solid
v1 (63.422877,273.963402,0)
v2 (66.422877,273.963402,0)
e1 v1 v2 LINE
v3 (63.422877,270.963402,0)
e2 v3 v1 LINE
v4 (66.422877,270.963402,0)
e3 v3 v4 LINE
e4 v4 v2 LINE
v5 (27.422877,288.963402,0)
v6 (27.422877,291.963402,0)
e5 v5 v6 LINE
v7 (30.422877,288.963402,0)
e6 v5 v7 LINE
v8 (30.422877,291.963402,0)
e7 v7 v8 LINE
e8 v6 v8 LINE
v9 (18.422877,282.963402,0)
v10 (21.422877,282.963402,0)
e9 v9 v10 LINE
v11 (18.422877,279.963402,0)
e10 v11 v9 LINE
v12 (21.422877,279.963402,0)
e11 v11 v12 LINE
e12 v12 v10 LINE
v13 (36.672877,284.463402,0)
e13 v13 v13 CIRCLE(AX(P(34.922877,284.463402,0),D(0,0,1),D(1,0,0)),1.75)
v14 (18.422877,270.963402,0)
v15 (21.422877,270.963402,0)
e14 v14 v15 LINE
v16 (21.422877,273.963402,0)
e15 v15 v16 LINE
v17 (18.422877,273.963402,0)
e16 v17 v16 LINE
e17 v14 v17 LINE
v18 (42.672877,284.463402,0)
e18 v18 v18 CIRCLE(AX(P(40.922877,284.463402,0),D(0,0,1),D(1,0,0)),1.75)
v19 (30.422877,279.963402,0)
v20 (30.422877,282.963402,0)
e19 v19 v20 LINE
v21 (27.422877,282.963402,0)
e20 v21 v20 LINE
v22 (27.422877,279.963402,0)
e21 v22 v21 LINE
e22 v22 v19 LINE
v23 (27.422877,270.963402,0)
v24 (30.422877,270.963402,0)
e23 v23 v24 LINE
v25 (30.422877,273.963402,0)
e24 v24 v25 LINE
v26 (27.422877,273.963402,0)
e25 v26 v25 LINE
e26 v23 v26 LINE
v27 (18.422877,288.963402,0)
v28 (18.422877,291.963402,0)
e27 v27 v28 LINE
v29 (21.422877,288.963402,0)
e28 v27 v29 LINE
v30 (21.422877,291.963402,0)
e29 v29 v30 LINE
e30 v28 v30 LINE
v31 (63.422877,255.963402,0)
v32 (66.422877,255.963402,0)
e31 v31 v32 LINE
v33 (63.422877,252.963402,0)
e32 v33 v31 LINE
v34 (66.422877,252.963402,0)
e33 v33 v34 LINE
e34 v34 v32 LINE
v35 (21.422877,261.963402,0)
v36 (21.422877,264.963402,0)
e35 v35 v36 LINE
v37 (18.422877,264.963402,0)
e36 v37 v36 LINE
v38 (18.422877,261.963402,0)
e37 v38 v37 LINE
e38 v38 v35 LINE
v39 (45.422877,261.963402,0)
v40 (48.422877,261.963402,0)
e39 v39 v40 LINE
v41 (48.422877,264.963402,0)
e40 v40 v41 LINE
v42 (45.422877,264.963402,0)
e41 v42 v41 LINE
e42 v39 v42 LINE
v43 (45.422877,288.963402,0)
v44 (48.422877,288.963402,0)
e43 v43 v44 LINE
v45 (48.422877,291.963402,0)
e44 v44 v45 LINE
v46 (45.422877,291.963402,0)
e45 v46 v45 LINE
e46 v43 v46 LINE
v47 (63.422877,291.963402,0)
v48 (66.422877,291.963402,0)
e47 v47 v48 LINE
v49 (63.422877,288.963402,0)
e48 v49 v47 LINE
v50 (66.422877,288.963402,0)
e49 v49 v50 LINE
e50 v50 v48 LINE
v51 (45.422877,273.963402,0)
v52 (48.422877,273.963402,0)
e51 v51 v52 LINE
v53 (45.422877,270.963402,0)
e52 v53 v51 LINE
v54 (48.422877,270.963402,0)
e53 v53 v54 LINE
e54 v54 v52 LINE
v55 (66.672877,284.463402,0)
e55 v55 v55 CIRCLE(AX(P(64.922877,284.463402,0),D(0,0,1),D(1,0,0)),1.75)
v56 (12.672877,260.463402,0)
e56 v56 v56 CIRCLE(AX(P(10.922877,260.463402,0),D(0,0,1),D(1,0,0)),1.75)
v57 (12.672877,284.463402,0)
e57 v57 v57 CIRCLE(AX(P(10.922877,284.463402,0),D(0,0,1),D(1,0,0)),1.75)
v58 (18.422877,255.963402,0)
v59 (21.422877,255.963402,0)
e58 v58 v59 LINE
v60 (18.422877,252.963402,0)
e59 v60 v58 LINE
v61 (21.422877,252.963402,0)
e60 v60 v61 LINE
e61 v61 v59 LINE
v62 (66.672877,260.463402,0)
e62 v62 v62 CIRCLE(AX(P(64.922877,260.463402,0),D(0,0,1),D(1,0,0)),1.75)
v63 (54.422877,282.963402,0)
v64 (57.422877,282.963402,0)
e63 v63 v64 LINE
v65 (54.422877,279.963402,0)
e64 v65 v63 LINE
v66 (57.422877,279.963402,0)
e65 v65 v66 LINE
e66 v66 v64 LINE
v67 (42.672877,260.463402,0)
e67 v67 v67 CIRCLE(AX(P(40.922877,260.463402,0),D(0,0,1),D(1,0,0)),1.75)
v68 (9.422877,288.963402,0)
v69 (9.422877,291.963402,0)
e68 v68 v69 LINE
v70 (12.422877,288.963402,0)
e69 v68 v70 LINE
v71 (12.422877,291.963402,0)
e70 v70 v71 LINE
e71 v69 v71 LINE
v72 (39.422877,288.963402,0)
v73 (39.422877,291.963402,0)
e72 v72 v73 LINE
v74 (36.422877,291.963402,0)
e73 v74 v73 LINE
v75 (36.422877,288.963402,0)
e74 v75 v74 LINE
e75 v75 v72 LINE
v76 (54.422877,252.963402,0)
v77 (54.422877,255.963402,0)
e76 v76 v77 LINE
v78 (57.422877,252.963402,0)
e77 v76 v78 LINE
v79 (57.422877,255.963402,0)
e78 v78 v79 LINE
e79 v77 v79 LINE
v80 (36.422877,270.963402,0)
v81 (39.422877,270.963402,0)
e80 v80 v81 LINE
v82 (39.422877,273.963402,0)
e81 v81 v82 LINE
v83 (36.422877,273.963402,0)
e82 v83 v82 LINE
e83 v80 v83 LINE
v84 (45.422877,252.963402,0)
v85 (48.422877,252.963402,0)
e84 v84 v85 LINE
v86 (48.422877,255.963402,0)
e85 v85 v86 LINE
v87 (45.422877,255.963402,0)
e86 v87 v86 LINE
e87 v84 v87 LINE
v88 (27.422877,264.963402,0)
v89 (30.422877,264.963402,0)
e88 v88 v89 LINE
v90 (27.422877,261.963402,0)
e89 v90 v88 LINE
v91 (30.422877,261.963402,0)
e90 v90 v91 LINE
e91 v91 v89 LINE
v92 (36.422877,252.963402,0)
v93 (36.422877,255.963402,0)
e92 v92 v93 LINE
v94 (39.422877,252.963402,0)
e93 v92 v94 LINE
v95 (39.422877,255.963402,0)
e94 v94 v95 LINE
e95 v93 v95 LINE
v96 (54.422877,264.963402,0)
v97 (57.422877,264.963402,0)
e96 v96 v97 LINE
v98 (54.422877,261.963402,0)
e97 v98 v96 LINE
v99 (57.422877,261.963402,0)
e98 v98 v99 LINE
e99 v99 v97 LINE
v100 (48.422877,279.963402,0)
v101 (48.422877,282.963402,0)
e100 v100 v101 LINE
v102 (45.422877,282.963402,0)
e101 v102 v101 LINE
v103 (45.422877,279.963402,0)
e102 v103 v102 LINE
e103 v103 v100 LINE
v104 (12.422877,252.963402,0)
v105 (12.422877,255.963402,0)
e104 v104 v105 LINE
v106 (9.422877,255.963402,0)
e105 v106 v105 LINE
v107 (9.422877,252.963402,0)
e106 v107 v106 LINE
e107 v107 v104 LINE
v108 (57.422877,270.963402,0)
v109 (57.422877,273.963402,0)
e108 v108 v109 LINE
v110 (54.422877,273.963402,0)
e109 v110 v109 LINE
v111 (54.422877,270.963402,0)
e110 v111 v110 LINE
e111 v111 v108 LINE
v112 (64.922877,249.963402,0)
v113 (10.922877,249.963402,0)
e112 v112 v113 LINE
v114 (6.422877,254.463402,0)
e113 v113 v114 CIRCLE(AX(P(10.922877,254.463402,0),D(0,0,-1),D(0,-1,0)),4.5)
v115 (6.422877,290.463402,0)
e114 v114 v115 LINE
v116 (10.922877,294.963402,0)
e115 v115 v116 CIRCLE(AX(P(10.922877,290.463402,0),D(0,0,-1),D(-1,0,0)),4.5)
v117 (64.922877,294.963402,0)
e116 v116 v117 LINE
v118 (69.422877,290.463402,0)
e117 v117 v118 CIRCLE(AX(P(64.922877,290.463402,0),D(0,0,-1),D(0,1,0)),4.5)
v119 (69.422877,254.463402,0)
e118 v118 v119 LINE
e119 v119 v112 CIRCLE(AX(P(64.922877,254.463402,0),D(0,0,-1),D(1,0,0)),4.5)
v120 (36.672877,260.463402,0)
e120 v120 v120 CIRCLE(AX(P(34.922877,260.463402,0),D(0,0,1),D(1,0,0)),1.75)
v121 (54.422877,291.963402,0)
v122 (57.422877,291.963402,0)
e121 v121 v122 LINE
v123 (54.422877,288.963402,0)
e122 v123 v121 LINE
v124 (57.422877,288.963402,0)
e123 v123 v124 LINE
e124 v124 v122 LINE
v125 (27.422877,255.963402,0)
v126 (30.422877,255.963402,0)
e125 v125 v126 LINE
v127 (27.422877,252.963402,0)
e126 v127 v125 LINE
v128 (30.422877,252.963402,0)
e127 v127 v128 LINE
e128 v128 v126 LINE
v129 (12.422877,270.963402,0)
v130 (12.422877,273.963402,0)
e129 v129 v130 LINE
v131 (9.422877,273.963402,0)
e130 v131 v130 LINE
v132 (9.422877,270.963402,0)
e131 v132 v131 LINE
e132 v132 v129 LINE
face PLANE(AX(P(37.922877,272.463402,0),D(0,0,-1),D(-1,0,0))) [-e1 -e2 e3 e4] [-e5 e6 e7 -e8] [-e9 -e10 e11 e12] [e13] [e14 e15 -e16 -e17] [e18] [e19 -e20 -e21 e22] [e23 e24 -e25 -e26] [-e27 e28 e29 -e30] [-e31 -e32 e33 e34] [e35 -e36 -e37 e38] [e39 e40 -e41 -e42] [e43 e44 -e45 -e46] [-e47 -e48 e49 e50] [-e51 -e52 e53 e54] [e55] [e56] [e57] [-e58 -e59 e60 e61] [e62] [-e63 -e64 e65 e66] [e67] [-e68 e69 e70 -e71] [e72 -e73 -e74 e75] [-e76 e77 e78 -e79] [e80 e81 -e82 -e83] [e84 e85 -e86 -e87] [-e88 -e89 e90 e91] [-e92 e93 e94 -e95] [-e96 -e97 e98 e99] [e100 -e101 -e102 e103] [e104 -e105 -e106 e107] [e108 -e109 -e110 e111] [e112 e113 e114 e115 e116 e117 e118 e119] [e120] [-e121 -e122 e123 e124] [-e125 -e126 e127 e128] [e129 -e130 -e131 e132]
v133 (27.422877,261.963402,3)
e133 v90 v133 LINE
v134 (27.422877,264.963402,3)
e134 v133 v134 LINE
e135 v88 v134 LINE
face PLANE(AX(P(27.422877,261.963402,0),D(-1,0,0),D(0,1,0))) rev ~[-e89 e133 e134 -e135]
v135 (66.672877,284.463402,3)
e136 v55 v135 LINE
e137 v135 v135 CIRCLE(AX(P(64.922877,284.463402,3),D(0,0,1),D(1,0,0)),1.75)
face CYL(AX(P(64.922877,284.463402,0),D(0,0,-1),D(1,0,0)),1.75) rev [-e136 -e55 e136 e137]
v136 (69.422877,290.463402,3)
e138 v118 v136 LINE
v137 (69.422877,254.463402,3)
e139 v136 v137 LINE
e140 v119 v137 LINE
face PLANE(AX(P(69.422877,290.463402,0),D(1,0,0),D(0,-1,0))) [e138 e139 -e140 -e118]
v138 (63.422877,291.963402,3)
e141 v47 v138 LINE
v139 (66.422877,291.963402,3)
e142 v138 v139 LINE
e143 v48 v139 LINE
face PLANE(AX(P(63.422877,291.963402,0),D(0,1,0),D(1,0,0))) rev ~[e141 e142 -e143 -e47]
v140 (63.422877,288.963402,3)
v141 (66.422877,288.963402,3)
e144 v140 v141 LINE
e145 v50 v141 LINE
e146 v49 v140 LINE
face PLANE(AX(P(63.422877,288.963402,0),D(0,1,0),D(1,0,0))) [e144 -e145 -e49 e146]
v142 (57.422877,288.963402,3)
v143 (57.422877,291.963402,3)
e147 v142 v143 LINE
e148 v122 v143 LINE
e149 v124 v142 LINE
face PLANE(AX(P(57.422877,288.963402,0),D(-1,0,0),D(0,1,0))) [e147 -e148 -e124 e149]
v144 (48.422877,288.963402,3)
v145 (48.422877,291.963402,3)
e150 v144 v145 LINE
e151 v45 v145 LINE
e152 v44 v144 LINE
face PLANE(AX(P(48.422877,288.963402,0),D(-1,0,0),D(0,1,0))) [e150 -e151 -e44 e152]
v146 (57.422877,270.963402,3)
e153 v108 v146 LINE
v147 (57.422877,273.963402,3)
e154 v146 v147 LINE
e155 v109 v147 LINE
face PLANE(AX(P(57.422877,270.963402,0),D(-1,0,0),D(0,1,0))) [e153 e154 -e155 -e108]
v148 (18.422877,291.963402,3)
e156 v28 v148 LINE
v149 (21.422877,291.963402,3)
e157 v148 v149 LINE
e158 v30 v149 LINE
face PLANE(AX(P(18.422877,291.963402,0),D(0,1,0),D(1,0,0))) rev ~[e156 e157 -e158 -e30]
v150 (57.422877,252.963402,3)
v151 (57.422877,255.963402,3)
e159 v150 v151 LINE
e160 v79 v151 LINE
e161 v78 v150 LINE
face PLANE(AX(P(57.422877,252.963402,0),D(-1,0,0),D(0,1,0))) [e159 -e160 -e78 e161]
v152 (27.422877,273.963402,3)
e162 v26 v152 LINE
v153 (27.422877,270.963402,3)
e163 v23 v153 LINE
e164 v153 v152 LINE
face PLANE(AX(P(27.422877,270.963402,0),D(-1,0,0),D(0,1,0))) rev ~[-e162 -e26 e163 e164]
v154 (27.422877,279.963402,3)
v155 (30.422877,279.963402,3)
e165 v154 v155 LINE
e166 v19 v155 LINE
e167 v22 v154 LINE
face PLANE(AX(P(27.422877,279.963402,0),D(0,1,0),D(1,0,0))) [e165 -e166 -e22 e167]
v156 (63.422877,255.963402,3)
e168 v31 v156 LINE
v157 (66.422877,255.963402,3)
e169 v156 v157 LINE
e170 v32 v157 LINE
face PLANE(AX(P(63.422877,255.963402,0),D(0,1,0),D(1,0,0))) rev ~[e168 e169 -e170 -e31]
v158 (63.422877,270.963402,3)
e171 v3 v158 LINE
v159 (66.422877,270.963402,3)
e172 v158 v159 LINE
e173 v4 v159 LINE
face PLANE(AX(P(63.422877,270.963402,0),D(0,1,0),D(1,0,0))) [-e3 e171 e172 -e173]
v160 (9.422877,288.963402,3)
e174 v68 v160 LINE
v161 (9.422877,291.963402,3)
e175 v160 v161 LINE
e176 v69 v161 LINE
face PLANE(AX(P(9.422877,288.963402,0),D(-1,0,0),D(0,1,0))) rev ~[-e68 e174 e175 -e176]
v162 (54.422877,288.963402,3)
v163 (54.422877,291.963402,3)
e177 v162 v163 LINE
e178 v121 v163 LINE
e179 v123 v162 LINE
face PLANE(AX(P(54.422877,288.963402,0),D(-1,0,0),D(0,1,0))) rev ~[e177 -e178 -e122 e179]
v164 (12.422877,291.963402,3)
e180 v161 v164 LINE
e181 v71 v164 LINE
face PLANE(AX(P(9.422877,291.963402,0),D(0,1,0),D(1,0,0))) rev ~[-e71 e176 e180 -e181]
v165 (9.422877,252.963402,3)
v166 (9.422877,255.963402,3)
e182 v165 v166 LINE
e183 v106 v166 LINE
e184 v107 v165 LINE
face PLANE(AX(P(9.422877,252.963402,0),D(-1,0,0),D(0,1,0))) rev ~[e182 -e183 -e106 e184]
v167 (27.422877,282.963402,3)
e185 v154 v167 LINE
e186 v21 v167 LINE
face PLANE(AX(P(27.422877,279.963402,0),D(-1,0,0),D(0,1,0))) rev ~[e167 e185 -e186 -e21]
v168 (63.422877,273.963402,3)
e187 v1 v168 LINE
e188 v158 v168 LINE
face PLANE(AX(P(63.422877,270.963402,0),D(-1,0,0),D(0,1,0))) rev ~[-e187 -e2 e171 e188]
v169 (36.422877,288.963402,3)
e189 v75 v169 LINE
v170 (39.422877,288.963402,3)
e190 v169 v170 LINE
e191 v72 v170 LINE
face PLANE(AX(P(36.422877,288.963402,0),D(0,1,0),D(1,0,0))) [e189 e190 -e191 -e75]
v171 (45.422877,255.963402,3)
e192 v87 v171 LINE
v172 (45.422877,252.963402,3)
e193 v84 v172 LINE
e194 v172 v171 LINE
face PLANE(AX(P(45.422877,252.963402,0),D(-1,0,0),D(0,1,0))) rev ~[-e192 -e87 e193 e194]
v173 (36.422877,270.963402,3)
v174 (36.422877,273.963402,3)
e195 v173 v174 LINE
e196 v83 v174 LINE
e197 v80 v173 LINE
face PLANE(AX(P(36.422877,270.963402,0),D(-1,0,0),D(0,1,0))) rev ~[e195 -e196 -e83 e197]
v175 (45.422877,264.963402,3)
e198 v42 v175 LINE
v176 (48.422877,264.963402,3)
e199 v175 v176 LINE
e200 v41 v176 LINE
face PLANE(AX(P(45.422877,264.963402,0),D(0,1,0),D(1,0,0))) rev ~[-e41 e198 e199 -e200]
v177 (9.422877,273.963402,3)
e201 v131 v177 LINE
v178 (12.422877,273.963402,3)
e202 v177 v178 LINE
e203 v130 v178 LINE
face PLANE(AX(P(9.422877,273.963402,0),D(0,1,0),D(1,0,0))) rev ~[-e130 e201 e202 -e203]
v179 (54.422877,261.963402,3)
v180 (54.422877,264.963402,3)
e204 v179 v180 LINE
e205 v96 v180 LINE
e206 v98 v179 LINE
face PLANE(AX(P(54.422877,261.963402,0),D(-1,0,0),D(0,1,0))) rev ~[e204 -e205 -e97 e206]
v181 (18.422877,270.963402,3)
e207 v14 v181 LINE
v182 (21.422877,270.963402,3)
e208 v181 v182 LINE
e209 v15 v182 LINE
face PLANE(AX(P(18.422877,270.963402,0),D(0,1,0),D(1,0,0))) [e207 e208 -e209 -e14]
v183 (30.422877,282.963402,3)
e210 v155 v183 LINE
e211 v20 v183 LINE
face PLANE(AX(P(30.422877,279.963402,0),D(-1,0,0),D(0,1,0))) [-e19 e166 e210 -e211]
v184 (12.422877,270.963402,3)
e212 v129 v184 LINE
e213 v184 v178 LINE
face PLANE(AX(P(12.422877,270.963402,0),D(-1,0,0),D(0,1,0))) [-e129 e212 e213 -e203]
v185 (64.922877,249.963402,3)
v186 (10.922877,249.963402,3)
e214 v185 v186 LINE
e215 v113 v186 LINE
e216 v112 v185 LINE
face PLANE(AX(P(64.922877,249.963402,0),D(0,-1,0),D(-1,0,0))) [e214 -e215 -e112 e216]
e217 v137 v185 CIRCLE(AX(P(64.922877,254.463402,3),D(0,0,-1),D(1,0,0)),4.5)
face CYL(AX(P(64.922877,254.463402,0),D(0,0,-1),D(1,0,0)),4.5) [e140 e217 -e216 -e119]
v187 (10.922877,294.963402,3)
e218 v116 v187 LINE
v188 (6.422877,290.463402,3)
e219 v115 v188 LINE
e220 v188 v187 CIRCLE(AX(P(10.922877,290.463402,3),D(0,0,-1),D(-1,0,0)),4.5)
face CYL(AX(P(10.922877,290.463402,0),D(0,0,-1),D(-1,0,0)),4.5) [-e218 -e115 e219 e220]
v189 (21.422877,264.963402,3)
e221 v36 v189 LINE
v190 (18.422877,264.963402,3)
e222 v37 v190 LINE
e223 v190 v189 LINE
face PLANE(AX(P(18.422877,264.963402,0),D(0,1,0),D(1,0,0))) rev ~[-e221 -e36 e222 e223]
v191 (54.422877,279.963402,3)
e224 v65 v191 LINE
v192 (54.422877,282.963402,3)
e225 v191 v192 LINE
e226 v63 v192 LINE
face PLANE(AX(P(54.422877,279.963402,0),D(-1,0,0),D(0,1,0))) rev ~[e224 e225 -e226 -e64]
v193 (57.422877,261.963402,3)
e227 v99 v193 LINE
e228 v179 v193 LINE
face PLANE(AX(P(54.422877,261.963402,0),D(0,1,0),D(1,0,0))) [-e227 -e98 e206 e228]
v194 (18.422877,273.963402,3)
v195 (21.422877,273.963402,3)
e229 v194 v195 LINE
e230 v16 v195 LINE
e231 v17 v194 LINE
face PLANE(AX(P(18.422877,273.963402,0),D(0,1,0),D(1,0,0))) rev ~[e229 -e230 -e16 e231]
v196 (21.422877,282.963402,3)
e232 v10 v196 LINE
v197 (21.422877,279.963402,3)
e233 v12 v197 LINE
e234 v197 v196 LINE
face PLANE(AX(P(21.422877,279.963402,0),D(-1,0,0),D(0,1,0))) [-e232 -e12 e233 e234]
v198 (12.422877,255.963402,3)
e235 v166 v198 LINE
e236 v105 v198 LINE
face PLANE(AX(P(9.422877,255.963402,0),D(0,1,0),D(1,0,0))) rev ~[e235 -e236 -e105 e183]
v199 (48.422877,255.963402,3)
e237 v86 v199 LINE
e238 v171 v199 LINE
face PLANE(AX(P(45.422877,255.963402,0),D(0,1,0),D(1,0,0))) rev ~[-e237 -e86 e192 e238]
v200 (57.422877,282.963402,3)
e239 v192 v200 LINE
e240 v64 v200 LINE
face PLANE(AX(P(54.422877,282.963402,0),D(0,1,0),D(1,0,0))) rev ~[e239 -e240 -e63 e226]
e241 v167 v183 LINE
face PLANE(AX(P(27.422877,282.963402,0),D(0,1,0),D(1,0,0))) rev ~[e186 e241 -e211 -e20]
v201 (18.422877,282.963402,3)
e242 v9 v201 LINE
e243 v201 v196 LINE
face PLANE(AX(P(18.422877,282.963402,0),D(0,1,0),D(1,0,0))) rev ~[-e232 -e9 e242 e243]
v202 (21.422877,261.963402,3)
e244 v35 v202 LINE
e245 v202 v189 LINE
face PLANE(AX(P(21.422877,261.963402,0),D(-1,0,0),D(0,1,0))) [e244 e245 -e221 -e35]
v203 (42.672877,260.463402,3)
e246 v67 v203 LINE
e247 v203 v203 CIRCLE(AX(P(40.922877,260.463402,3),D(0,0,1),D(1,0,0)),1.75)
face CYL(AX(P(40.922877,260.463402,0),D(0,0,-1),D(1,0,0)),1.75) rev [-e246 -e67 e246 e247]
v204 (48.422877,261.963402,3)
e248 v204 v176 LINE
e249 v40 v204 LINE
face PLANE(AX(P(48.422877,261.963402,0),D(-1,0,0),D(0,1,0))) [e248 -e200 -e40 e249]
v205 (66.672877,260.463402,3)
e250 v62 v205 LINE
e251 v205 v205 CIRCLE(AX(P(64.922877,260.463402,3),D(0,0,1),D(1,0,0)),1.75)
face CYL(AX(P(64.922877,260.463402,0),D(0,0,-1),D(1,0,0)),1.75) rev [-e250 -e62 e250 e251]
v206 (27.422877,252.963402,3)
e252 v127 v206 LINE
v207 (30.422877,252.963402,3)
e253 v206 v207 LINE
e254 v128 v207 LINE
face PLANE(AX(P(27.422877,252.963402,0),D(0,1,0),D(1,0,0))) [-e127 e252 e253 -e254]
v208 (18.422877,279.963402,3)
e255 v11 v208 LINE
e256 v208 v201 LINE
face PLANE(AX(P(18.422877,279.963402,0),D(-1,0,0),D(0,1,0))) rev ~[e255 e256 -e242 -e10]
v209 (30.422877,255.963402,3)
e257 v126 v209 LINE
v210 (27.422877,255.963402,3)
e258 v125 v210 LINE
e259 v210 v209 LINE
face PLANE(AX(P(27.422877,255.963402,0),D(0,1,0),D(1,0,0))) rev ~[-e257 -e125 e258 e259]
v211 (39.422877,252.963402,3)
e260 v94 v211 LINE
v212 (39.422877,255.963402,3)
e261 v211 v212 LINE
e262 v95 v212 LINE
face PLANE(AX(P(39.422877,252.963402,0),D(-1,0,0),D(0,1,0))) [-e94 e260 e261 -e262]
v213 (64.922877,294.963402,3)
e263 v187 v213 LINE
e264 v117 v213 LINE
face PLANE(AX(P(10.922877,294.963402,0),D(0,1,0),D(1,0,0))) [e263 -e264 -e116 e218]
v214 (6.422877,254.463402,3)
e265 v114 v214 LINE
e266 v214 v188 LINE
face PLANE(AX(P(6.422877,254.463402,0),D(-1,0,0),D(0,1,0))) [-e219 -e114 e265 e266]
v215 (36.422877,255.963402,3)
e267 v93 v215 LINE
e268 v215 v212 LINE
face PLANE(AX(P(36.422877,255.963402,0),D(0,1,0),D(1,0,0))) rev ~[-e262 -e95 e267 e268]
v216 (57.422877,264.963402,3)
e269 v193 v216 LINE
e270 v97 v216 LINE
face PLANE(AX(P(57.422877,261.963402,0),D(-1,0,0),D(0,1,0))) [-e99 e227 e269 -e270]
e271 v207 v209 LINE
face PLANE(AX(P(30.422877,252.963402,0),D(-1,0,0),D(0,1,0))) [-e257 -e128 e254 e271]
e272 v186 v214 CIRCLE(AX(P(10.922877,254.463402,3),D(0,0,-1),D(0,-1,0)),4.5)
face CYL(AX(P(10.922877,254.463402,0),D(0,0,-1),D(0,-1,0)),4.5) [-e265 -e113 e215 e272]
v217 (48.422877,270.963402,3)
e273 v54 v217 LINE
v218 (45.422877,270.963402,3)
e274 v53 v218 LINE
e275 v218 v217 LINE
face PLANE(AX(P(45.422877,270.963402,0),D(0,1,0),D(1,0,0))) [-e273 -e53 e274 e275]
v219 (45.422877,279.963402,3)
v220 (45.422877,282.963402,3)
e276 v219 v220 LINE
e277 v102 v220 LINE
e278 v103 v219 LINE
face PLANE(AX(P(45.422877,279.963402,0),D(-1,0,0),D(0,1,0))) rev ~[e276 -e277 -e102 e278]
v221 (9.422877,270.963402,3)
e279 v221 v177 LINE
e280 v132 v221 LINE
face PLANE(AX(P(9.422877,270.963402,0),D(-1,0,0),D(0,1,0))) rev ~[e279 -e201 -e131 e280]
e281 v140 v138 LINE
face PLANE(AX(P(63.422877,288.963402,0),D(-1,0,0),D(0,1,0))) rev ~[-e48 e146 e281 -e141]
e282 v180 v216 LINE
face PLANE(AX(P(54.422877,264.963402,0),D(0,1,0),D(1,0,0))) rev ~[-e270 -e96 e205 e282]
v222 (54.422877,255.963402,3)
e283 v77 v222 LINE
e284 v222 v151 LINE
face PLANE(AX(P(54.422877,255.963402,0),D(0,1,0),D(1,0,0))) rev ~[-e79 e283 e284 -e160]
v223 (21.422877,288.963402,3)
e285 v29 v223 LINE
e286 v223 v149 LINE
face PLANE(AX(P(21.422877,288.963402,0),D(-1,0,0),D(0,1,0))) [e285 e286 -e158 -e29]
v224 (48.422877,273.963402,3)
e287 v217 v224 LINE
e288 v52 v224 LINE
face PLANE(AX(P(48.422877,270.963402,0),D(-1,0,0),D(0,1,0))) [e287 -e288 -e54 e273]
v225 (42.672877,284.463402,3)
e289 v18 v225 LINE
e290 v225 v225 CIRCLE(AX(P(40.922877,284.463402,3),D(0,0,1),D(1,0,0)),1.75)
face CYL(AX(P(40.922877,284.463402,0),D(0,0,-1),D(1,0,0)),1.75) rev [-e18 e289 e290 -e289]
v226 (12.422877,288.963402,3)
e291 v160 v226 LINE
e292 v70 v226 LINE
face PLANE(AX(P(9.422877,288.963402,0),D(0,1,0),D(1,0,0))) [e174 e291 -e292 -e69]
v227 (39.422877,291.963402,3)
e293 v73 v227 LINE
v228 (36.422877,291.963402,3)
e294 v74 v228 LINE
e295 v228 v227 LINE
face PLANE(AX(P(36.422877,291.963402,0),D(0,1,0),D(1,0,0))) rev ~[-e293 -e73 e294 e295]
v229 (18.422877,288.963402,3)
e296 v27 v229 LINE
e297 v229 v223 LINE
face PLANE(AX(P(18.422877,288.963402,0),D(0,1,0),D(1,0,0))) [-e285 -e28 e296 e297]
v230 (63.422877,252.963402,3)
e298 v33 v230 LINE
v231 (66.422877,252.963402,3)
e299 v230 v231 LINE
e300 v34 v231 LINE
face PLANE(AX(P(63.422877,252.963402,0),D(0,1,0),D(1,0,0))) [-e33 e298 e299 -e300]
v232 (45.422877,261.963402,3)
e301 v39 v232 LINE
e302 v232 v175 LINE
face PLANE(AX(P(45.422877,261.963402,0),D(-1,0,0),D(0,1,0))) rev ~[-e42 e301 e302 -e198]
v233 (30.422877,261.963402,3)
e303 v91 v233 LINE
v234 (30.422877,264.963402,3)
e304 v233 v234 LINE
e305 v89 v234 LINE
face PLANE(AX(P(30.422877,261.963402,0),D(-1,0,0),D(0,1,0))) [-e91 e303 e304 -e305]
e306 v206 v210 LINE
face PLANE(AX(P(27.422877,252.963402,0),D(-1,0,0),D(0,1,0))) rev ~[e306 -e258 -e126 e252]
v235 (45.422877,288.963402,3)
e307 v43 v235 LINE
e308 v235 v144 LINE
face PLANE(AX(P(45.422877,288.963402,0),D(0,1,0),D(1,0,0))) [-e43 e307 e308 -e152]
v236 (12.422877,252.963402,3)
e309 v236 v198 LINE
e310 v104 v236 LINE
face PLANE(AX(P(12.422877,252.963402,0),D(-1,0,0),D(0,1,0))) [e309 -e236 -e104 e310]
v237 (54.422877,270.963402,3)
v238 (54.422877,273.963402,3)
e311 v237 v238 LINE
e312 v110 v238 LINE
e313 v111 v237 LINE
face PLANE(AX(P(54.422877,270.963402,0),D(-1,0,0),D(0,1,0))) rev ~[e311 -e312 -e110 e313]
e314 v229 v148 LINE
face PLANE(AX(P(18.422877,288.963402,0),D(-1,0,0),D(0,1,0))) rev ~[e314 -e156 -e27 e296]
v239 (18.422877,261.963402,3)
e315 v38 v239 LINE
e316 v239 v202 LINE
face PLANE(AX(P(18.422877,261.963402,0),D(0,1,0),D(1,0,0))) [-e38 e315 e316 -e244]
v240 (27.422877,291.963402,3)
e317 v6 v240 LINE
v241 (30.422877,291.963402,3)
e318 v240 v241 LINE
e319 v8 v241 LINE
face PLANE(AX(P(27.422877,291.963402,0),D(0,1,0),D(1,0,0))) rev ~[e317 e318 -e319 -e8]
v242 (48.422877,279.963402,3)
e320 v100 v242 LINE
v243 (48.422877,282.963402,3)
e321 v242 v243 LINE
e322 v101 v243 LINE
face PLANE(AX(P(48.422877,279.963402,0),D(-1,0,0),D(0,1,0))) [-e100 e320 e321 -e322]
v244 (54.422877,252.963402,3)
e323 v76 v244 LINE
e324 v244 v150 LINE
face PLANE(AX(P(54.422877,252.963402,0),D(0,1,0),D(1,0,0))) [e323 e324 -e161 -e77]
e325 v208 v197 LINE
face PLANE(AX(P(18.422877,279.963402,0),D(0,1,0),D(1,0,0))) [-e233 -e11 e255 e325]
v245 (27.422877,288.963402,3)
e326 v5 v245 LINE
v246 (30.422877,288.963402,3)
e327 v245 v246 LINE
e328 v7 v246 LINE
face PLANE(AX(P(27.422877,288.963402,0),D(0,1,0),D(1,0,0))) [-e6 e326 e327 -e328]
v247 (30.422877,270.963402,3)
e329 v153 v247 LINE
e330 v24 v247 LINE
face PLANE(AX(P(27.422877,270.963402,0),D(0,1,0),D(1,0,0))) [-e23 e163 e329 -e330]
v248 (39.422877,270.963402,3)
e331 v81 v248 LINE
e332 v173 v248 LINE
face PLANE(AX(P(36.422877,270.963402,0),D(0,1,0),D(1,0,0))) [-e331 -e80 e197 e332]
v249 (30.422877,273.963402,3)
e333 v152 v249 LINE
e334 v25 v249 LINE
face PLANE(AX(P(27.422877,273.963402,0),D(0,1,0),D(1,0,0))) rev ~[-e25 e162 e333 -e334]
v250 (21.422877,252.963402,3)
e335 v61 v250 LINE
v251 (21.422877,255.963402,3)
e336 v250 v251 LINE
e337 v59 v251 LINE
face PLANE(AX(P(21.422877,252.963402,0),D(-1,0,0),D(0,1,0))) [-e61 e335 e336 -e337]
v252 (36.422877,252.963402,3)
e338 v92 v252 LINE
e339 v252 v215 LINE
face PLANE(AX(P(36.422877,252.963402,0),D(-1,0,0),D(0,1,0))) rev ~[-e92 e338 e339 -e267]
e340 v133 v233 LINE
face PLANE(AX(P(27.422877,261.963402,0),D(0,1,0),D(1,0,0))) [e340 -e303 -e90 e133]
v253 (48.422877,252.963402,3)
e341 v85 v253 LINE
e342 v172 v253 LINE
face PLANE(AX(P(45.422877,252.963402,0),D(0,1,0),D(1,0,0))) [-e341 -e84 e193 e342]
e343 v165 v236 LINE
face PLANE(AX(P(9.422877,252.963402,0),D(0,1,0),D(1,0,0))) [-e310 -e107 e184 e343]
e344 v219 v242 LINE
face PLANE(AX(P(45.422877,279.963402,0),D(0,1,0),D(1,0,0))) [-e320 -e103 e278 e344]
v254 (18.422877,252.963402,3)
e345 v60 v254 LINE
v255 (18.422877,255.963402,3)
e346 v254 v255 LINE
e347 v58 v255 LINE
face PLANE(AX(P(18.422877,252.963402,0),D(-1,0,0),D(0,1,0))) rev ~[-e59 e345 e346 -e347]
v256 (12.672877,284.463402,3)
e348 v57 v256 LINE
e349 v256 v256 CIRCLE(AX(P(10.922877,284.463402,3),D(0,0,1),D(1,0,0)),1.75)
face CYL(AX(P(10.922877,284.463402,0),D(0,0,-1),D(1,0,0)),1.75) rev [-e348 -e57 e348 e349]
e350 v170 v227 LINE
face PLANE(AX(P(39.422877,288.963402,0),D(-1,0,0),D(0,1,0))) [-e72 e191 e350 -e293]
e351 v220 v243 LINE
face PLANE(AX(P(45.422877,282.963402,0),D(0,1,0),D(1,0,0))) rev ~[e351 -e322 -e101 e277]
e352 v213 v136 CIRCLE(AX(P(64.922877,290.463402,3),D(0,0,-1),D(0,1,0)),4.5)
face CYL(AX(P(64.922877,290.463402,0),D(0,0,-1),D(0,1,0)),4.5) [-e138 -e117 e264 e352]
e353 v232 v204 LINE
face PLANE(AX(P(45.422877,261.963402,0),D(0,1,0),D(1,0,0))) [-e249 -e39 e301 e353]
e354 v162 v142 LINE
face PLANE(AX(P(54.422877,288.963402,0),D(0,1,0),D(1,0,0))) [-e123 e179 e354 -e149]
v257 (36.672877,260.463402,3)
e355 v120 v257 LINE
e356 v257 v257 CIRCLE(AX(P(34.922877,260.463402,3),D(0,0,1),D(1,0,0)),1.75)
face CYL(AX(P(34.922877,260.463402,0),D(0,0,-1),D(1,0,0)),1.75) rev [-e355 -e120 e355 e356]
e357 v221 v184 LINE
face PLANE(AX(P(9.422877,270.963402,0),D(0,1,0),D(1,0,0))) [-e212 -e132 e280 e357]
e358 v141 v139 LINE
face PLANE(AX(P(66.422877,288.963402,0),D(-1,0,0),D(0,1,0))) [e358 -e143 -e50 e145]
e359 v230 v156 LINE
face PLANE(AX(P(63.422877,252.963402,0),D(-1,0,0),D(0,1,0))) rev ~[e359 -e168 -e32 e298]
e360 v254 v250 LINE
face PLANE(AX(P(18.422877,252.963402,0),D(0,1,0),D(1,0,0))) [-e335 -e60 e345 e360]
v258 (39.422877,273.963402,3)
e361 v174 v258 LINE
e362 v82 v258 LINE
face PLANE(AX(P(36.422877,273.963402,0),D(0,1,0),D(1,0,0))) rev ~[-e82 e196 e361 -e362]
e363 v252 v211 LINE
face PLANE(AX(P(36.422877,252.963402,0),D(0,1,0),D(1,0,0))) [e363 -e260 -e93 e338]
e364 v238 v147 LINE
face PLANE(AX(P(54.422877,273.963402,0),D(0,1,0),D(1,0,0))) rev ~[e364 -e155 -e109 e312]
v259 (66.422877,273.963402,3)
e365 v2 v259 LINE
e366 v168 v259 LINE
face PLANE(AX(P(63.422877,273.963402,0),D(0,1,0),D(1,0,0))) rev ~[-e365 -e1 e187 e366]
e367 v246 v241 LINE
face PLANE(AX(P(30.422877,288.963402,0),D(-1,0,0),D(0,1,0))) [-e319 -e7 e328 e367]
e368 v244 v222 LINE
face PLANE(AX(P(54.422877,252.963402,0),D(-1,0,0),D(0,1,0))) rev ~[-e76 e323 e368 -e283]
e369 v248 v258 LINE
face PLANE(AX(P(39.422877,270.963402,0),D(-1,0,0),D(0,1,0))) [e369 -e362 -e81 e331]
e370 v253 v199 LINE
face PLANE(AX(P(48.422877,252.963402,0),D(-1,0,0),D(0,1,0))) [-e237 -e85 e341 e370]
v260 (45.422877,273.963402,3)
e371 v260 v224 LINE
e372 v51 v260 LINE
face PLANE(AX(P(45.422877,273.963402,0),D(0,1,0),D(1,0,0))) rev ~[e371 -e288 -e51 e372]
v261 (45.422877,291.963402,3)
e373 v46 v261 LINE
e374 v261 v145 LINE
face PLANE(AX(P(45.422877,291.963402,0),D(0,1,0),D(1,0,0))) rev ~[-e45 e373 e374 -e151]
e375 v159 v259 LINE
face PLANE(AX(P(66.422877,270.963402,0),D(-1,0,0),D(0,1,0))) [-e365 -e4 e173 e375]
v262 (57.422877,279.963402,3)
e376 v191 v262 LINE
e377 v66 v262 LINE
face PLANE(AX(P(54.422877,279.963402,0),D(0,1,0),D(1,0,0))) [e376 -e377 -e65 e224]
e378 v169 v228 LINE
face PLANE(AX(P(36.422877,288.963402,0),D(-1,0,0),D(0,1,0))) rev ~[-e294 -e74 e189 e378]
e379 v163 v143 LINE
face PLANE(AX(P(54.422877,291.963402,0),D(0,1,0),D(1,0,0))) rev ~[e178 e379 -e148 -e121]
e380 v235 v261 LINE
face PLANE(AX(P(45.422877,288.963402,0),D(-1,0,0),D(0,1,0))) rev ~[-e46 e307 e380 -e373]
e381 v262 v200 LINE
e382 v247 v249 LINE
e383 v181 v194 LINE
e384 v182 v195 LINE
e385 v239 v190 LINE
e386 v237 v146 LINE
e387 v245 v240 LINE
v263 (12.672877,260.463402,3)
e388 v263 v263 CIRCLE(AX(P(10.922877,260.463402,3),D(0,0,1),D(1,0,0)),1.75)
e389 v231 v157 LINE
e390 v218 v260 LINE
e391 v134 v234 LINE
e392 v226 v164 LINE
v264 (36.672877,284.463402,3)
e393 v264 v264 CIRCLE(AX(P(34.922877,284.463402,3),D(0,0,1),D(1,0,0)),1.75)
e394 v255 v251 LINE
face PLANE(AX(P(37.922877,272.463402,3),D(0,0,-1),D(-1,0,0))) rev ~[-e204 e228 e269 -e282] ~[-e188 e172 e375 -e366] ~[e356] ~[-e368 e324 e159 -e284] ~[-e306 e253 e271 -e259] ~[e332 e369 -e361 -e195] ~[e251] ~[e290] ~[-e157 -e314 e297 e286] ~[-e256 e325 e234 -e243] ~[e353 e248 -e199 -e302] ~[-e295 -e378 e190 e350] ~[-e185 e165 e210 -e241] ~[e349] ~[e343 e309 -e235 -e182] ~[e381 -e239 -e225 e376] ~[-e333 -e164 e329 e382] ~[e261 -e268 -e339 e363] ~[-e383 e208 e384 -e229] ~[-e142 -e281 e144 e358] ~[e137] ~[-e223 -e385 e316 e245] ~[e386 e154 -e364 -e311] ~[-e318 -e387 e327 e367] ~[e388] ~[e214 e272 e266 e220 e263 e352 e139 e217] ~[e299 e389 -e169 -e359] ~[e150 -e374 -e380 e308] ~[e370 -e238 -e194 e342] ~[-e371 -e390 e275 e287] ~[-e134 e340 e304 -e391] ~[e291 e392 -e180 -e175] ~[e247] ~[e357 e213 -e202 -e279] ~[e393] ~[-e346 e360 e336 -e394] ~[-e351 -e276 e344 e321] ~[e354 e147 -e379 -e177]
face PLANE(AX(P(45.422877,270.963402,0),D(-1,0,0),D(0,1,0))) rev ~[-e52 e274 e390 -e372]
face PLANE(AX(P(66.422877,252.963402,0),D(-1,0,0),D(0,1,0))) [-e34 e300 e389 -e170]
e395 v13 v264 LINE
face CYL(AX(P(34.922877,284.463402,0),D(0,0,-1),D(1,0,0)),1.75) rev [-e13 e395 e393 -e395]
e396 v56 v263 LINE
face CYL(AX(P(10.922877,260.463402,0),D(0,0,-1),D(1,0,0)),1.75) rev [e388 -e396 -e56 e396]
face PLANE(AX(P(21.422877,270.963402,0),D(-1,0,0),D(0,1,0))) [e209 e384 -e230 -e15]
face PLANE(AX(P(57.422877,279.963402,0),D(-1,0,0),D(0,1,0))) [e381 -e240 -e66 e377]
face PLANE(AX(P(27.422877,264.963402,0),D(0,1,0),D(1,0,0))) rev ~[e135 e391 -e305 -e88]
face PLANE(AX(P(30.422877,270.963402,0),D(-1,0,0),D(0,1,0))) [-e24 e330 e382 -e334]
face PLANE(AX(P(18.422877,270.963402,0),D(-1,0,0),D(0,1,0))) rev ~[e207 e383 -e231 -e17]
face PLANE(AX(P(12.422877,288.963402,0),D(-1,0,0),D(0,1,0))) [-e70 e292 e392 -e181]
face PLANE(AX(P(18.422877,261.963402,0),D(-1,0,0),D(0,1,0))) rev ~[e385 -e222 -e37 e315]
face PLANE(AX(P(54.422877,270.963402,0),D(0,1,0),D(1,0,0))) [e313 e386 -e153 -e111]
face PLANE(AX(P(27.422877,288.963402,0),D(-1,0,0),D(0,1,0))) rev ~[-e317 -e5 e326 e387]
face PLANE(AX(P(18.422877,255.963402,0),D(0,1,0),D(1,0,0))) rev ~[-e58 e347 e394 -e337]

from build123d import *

# Parameters (mm, degrees)
MODEL_R                 = 1.75
MODEL_W                 = 3
MODEL_H                 = 3
MODEL_W_2               = 3.000000001
SALIENTE_EXTRUIR1_DEPTH = 3


with BuildPart() as part:
    # Model → Saliente-Extruir1 (new body)
    with BuildSketch(Plane.XY):
        with BuildLine():
            Line((10.922877124, 294.963401588), (64.922877125, 294.963401588))
            ThreePointArc((64.922877125, 294.963401588), (68.10485764, 293.645382103), (69.422877125, 290.463401588))
            Line((69.422877125, 290.463401588), (69.422877125, 254.463401588))
            ThreePointArc((69.422877125, 254.463401588), (68.10485764, 251.281421073), (64.922877125, 249.963401588))
            Line((64.922877125, 249.963401588), (10.922877124, 249.963401588))
            ThreePointArc((10.922877124, 249.963401588), (7.740896609, 251.281421073), (6.422877125, 254.463401588))
            Line((6.422877125, 254.463401588), (6.422877125, 290.463401588))
            ThreePointArc((6.422877125, 290.463401588), (7.740896609, 293.645382103), (10.922877124, 294.963401588))
        make_face()
        with Locations((64.922877125, 284.463401588)):
            Circle(MODEL_R, mode=Mode.SUBTRACT)
        with Locations((34.922877124, 284.463401588)):
            Circle(MODEL_R, mode=Mode.SUBTRACT)
        with Locations((64.922877125, 260.463401588)):
            Circle(MODEL_R, mode=Mode.SUBTRACT)
        with Locations((34.922877124, 260.463401588)):
            Circle(MODEL_R, mode=Mode.SUBTRACT)
        with Locations((40.922877124, 284.463401588)):
            Circle(MODEL_R, mode=Mode.SUBTRACT)
        with Locations((10.922877124, 284.463401588)):
            Circle(MODEL_R, mode=Mode.SUBTRACT)
        with Locations((40.922877124, 260.463401588)):
            Circle(MODEL_R, mode=Mode.SUBTRACT)
        with Locations((10.922877124, 260.463401588)):
            Circle(MODEL_R, mode=Mode.SUBTRACT)
        with Locations((10.922877124, 290.463401588)):
            Rectangle(MODEL_W, MODEL_H, mode=Mode.SUBTRACT)
        with Locations((19.922877124, 290.463401588)):
            Rectangle(MODEL_W, MODEL_H, mode=Mode.SUBTRACT)
        with Locations((28.922877124, 290.463401588)):
            Rectangle(MODEL_W, MODEL_H, mode=Mode.SUBTRACT)
        with Locations((55.922877124, 290.463401588)):
            Rectangle(MODEL_W, MODEL_H, mode=Mode.SUBTRACT)
        with Locations((64.922877125, 290.463401588)):
            Rectangle(MODEL_W_2, MODEL_H, mode=Mode.SUBTRACT)
        with Locations((10.922877124, 254.463401588)):
            Rectangle(MODEL_W, MODEL_H, mode=Mode.SUBTRACT)
        with Locations((19.922877124, 254.463401588)):
            Rectangle(MODEL_W, MODEL_H, mode=Mode.SUBTRACT)
        with Locations((28.922877124, 254.463401588)):
            Rectangle(MODEL_W, MODEL_H, mode=Mode.SUBTRACT)
        with Locations((55.922877124, 254.463401588)):
            Rectangle(MODEL_W, MODEL_H, mode=Mode.SUBTRACT)
        with Locations((64.922877125, 254.463401588)):
            Rectangle(MODEL_W_2, MODEL_H, mode=Mode.SUBTRACT)
        with Locations((19.922877124, 263.463401588)):
            Rectangle(MODEL_W, MODEL_H, mode=Mode.SUBTRACT)
        with Locations((28.922877124, 263.463401588)):
            Rectangle(MODEL_W, MODEL_H, mode=Mode.SUBTRACT)
        with Locations((55.922877124, 263.463401588)):
            Rectangle(MODEL_W, MODEL_H, mode=Mode.SUBTRACT)
        with Locations((37.922877124, 290.463401588)):
            Rectangle(MODEL_W, MODEL_H, mode=Mode.SUBTRACT)
        with Locations((46.922877124, 290.463401588)):
            Rectangle(MODEL_W, MODEL_H, mode=Mode.SUBTRACT)
        with Locations((37.922877124, 254.463401588)):
            Rectangle(MODEL_W, MODEL_H, mode=Mode.SUBTRACT)
        with Locations((46.922877124, 254.463401588)):
            Rectangle(MODEL_W, MODEL_H, mode=Mode.SUBTRACT)
        with Locations((46.922877124, 263.463401588)):
            Rectangle(MODEL_W, MODEL_H, mode=Mode.SUBTRACT)
        with Locations((10.922877124, 272.463401588)):
            Rectangle(MODEL_W, MODEL_H, mode=Mode.SUBTRACT)
        with Locations((19.922877124, 272.463401588)):
            Rectangle(MODEL_W, MODEL_H, mode=Mode.SUBTRACT)
        with Locations((28.922877124, 272.463401588)):
            Rectangle(MODEL_W, MODEL_H, mode=Mode.SUBTRACT)
        with Locations((55.922877124, 272.463401588)):
            Rectangle(MODEL_W, MODEL_H, mode=Mode.SUBTRACT)
        with Locations((64.922877125, 272.463401588)):
            Rectangle(MODEL_W_2, MODEL_H, mode=Mode.SUBTRACT)
        with Locations((19.922877124, 281.463401588)):
            Rectangle(MODEL_W, MODEL_H, mode=Mode.SUBTRACT)
        with Locations((28.922877124, 281.463401588)):
            Rectangle(MODEL_W, MODEL_H, mode=Mode.SUBTRACT)
        with Locations((55.922877124, 281.463401588)):
            Rectangle(MODEL_W, MODEL_H, mode=Mode.SUBTRACT)
        with Locations((37.922877124, 272.463401588)):
            Rectangle(MODEL_W, MODEL_H, mode=Mode.SUBTRACT)
        with Locations((46.922877124, 272.463401588)):
            Rectangle(MODEL_W, MODEL_H, mode=Mode.SUBTRACT)
        with Locations((46.922877124, 281.463401588)):
            Rectangle(MODEL_W, MODEL_H, mode=Mode.SUBTRACT)
    extrude(amount=SALIENTE_EXTRUIR1_DEPTH)


solid = part.part
